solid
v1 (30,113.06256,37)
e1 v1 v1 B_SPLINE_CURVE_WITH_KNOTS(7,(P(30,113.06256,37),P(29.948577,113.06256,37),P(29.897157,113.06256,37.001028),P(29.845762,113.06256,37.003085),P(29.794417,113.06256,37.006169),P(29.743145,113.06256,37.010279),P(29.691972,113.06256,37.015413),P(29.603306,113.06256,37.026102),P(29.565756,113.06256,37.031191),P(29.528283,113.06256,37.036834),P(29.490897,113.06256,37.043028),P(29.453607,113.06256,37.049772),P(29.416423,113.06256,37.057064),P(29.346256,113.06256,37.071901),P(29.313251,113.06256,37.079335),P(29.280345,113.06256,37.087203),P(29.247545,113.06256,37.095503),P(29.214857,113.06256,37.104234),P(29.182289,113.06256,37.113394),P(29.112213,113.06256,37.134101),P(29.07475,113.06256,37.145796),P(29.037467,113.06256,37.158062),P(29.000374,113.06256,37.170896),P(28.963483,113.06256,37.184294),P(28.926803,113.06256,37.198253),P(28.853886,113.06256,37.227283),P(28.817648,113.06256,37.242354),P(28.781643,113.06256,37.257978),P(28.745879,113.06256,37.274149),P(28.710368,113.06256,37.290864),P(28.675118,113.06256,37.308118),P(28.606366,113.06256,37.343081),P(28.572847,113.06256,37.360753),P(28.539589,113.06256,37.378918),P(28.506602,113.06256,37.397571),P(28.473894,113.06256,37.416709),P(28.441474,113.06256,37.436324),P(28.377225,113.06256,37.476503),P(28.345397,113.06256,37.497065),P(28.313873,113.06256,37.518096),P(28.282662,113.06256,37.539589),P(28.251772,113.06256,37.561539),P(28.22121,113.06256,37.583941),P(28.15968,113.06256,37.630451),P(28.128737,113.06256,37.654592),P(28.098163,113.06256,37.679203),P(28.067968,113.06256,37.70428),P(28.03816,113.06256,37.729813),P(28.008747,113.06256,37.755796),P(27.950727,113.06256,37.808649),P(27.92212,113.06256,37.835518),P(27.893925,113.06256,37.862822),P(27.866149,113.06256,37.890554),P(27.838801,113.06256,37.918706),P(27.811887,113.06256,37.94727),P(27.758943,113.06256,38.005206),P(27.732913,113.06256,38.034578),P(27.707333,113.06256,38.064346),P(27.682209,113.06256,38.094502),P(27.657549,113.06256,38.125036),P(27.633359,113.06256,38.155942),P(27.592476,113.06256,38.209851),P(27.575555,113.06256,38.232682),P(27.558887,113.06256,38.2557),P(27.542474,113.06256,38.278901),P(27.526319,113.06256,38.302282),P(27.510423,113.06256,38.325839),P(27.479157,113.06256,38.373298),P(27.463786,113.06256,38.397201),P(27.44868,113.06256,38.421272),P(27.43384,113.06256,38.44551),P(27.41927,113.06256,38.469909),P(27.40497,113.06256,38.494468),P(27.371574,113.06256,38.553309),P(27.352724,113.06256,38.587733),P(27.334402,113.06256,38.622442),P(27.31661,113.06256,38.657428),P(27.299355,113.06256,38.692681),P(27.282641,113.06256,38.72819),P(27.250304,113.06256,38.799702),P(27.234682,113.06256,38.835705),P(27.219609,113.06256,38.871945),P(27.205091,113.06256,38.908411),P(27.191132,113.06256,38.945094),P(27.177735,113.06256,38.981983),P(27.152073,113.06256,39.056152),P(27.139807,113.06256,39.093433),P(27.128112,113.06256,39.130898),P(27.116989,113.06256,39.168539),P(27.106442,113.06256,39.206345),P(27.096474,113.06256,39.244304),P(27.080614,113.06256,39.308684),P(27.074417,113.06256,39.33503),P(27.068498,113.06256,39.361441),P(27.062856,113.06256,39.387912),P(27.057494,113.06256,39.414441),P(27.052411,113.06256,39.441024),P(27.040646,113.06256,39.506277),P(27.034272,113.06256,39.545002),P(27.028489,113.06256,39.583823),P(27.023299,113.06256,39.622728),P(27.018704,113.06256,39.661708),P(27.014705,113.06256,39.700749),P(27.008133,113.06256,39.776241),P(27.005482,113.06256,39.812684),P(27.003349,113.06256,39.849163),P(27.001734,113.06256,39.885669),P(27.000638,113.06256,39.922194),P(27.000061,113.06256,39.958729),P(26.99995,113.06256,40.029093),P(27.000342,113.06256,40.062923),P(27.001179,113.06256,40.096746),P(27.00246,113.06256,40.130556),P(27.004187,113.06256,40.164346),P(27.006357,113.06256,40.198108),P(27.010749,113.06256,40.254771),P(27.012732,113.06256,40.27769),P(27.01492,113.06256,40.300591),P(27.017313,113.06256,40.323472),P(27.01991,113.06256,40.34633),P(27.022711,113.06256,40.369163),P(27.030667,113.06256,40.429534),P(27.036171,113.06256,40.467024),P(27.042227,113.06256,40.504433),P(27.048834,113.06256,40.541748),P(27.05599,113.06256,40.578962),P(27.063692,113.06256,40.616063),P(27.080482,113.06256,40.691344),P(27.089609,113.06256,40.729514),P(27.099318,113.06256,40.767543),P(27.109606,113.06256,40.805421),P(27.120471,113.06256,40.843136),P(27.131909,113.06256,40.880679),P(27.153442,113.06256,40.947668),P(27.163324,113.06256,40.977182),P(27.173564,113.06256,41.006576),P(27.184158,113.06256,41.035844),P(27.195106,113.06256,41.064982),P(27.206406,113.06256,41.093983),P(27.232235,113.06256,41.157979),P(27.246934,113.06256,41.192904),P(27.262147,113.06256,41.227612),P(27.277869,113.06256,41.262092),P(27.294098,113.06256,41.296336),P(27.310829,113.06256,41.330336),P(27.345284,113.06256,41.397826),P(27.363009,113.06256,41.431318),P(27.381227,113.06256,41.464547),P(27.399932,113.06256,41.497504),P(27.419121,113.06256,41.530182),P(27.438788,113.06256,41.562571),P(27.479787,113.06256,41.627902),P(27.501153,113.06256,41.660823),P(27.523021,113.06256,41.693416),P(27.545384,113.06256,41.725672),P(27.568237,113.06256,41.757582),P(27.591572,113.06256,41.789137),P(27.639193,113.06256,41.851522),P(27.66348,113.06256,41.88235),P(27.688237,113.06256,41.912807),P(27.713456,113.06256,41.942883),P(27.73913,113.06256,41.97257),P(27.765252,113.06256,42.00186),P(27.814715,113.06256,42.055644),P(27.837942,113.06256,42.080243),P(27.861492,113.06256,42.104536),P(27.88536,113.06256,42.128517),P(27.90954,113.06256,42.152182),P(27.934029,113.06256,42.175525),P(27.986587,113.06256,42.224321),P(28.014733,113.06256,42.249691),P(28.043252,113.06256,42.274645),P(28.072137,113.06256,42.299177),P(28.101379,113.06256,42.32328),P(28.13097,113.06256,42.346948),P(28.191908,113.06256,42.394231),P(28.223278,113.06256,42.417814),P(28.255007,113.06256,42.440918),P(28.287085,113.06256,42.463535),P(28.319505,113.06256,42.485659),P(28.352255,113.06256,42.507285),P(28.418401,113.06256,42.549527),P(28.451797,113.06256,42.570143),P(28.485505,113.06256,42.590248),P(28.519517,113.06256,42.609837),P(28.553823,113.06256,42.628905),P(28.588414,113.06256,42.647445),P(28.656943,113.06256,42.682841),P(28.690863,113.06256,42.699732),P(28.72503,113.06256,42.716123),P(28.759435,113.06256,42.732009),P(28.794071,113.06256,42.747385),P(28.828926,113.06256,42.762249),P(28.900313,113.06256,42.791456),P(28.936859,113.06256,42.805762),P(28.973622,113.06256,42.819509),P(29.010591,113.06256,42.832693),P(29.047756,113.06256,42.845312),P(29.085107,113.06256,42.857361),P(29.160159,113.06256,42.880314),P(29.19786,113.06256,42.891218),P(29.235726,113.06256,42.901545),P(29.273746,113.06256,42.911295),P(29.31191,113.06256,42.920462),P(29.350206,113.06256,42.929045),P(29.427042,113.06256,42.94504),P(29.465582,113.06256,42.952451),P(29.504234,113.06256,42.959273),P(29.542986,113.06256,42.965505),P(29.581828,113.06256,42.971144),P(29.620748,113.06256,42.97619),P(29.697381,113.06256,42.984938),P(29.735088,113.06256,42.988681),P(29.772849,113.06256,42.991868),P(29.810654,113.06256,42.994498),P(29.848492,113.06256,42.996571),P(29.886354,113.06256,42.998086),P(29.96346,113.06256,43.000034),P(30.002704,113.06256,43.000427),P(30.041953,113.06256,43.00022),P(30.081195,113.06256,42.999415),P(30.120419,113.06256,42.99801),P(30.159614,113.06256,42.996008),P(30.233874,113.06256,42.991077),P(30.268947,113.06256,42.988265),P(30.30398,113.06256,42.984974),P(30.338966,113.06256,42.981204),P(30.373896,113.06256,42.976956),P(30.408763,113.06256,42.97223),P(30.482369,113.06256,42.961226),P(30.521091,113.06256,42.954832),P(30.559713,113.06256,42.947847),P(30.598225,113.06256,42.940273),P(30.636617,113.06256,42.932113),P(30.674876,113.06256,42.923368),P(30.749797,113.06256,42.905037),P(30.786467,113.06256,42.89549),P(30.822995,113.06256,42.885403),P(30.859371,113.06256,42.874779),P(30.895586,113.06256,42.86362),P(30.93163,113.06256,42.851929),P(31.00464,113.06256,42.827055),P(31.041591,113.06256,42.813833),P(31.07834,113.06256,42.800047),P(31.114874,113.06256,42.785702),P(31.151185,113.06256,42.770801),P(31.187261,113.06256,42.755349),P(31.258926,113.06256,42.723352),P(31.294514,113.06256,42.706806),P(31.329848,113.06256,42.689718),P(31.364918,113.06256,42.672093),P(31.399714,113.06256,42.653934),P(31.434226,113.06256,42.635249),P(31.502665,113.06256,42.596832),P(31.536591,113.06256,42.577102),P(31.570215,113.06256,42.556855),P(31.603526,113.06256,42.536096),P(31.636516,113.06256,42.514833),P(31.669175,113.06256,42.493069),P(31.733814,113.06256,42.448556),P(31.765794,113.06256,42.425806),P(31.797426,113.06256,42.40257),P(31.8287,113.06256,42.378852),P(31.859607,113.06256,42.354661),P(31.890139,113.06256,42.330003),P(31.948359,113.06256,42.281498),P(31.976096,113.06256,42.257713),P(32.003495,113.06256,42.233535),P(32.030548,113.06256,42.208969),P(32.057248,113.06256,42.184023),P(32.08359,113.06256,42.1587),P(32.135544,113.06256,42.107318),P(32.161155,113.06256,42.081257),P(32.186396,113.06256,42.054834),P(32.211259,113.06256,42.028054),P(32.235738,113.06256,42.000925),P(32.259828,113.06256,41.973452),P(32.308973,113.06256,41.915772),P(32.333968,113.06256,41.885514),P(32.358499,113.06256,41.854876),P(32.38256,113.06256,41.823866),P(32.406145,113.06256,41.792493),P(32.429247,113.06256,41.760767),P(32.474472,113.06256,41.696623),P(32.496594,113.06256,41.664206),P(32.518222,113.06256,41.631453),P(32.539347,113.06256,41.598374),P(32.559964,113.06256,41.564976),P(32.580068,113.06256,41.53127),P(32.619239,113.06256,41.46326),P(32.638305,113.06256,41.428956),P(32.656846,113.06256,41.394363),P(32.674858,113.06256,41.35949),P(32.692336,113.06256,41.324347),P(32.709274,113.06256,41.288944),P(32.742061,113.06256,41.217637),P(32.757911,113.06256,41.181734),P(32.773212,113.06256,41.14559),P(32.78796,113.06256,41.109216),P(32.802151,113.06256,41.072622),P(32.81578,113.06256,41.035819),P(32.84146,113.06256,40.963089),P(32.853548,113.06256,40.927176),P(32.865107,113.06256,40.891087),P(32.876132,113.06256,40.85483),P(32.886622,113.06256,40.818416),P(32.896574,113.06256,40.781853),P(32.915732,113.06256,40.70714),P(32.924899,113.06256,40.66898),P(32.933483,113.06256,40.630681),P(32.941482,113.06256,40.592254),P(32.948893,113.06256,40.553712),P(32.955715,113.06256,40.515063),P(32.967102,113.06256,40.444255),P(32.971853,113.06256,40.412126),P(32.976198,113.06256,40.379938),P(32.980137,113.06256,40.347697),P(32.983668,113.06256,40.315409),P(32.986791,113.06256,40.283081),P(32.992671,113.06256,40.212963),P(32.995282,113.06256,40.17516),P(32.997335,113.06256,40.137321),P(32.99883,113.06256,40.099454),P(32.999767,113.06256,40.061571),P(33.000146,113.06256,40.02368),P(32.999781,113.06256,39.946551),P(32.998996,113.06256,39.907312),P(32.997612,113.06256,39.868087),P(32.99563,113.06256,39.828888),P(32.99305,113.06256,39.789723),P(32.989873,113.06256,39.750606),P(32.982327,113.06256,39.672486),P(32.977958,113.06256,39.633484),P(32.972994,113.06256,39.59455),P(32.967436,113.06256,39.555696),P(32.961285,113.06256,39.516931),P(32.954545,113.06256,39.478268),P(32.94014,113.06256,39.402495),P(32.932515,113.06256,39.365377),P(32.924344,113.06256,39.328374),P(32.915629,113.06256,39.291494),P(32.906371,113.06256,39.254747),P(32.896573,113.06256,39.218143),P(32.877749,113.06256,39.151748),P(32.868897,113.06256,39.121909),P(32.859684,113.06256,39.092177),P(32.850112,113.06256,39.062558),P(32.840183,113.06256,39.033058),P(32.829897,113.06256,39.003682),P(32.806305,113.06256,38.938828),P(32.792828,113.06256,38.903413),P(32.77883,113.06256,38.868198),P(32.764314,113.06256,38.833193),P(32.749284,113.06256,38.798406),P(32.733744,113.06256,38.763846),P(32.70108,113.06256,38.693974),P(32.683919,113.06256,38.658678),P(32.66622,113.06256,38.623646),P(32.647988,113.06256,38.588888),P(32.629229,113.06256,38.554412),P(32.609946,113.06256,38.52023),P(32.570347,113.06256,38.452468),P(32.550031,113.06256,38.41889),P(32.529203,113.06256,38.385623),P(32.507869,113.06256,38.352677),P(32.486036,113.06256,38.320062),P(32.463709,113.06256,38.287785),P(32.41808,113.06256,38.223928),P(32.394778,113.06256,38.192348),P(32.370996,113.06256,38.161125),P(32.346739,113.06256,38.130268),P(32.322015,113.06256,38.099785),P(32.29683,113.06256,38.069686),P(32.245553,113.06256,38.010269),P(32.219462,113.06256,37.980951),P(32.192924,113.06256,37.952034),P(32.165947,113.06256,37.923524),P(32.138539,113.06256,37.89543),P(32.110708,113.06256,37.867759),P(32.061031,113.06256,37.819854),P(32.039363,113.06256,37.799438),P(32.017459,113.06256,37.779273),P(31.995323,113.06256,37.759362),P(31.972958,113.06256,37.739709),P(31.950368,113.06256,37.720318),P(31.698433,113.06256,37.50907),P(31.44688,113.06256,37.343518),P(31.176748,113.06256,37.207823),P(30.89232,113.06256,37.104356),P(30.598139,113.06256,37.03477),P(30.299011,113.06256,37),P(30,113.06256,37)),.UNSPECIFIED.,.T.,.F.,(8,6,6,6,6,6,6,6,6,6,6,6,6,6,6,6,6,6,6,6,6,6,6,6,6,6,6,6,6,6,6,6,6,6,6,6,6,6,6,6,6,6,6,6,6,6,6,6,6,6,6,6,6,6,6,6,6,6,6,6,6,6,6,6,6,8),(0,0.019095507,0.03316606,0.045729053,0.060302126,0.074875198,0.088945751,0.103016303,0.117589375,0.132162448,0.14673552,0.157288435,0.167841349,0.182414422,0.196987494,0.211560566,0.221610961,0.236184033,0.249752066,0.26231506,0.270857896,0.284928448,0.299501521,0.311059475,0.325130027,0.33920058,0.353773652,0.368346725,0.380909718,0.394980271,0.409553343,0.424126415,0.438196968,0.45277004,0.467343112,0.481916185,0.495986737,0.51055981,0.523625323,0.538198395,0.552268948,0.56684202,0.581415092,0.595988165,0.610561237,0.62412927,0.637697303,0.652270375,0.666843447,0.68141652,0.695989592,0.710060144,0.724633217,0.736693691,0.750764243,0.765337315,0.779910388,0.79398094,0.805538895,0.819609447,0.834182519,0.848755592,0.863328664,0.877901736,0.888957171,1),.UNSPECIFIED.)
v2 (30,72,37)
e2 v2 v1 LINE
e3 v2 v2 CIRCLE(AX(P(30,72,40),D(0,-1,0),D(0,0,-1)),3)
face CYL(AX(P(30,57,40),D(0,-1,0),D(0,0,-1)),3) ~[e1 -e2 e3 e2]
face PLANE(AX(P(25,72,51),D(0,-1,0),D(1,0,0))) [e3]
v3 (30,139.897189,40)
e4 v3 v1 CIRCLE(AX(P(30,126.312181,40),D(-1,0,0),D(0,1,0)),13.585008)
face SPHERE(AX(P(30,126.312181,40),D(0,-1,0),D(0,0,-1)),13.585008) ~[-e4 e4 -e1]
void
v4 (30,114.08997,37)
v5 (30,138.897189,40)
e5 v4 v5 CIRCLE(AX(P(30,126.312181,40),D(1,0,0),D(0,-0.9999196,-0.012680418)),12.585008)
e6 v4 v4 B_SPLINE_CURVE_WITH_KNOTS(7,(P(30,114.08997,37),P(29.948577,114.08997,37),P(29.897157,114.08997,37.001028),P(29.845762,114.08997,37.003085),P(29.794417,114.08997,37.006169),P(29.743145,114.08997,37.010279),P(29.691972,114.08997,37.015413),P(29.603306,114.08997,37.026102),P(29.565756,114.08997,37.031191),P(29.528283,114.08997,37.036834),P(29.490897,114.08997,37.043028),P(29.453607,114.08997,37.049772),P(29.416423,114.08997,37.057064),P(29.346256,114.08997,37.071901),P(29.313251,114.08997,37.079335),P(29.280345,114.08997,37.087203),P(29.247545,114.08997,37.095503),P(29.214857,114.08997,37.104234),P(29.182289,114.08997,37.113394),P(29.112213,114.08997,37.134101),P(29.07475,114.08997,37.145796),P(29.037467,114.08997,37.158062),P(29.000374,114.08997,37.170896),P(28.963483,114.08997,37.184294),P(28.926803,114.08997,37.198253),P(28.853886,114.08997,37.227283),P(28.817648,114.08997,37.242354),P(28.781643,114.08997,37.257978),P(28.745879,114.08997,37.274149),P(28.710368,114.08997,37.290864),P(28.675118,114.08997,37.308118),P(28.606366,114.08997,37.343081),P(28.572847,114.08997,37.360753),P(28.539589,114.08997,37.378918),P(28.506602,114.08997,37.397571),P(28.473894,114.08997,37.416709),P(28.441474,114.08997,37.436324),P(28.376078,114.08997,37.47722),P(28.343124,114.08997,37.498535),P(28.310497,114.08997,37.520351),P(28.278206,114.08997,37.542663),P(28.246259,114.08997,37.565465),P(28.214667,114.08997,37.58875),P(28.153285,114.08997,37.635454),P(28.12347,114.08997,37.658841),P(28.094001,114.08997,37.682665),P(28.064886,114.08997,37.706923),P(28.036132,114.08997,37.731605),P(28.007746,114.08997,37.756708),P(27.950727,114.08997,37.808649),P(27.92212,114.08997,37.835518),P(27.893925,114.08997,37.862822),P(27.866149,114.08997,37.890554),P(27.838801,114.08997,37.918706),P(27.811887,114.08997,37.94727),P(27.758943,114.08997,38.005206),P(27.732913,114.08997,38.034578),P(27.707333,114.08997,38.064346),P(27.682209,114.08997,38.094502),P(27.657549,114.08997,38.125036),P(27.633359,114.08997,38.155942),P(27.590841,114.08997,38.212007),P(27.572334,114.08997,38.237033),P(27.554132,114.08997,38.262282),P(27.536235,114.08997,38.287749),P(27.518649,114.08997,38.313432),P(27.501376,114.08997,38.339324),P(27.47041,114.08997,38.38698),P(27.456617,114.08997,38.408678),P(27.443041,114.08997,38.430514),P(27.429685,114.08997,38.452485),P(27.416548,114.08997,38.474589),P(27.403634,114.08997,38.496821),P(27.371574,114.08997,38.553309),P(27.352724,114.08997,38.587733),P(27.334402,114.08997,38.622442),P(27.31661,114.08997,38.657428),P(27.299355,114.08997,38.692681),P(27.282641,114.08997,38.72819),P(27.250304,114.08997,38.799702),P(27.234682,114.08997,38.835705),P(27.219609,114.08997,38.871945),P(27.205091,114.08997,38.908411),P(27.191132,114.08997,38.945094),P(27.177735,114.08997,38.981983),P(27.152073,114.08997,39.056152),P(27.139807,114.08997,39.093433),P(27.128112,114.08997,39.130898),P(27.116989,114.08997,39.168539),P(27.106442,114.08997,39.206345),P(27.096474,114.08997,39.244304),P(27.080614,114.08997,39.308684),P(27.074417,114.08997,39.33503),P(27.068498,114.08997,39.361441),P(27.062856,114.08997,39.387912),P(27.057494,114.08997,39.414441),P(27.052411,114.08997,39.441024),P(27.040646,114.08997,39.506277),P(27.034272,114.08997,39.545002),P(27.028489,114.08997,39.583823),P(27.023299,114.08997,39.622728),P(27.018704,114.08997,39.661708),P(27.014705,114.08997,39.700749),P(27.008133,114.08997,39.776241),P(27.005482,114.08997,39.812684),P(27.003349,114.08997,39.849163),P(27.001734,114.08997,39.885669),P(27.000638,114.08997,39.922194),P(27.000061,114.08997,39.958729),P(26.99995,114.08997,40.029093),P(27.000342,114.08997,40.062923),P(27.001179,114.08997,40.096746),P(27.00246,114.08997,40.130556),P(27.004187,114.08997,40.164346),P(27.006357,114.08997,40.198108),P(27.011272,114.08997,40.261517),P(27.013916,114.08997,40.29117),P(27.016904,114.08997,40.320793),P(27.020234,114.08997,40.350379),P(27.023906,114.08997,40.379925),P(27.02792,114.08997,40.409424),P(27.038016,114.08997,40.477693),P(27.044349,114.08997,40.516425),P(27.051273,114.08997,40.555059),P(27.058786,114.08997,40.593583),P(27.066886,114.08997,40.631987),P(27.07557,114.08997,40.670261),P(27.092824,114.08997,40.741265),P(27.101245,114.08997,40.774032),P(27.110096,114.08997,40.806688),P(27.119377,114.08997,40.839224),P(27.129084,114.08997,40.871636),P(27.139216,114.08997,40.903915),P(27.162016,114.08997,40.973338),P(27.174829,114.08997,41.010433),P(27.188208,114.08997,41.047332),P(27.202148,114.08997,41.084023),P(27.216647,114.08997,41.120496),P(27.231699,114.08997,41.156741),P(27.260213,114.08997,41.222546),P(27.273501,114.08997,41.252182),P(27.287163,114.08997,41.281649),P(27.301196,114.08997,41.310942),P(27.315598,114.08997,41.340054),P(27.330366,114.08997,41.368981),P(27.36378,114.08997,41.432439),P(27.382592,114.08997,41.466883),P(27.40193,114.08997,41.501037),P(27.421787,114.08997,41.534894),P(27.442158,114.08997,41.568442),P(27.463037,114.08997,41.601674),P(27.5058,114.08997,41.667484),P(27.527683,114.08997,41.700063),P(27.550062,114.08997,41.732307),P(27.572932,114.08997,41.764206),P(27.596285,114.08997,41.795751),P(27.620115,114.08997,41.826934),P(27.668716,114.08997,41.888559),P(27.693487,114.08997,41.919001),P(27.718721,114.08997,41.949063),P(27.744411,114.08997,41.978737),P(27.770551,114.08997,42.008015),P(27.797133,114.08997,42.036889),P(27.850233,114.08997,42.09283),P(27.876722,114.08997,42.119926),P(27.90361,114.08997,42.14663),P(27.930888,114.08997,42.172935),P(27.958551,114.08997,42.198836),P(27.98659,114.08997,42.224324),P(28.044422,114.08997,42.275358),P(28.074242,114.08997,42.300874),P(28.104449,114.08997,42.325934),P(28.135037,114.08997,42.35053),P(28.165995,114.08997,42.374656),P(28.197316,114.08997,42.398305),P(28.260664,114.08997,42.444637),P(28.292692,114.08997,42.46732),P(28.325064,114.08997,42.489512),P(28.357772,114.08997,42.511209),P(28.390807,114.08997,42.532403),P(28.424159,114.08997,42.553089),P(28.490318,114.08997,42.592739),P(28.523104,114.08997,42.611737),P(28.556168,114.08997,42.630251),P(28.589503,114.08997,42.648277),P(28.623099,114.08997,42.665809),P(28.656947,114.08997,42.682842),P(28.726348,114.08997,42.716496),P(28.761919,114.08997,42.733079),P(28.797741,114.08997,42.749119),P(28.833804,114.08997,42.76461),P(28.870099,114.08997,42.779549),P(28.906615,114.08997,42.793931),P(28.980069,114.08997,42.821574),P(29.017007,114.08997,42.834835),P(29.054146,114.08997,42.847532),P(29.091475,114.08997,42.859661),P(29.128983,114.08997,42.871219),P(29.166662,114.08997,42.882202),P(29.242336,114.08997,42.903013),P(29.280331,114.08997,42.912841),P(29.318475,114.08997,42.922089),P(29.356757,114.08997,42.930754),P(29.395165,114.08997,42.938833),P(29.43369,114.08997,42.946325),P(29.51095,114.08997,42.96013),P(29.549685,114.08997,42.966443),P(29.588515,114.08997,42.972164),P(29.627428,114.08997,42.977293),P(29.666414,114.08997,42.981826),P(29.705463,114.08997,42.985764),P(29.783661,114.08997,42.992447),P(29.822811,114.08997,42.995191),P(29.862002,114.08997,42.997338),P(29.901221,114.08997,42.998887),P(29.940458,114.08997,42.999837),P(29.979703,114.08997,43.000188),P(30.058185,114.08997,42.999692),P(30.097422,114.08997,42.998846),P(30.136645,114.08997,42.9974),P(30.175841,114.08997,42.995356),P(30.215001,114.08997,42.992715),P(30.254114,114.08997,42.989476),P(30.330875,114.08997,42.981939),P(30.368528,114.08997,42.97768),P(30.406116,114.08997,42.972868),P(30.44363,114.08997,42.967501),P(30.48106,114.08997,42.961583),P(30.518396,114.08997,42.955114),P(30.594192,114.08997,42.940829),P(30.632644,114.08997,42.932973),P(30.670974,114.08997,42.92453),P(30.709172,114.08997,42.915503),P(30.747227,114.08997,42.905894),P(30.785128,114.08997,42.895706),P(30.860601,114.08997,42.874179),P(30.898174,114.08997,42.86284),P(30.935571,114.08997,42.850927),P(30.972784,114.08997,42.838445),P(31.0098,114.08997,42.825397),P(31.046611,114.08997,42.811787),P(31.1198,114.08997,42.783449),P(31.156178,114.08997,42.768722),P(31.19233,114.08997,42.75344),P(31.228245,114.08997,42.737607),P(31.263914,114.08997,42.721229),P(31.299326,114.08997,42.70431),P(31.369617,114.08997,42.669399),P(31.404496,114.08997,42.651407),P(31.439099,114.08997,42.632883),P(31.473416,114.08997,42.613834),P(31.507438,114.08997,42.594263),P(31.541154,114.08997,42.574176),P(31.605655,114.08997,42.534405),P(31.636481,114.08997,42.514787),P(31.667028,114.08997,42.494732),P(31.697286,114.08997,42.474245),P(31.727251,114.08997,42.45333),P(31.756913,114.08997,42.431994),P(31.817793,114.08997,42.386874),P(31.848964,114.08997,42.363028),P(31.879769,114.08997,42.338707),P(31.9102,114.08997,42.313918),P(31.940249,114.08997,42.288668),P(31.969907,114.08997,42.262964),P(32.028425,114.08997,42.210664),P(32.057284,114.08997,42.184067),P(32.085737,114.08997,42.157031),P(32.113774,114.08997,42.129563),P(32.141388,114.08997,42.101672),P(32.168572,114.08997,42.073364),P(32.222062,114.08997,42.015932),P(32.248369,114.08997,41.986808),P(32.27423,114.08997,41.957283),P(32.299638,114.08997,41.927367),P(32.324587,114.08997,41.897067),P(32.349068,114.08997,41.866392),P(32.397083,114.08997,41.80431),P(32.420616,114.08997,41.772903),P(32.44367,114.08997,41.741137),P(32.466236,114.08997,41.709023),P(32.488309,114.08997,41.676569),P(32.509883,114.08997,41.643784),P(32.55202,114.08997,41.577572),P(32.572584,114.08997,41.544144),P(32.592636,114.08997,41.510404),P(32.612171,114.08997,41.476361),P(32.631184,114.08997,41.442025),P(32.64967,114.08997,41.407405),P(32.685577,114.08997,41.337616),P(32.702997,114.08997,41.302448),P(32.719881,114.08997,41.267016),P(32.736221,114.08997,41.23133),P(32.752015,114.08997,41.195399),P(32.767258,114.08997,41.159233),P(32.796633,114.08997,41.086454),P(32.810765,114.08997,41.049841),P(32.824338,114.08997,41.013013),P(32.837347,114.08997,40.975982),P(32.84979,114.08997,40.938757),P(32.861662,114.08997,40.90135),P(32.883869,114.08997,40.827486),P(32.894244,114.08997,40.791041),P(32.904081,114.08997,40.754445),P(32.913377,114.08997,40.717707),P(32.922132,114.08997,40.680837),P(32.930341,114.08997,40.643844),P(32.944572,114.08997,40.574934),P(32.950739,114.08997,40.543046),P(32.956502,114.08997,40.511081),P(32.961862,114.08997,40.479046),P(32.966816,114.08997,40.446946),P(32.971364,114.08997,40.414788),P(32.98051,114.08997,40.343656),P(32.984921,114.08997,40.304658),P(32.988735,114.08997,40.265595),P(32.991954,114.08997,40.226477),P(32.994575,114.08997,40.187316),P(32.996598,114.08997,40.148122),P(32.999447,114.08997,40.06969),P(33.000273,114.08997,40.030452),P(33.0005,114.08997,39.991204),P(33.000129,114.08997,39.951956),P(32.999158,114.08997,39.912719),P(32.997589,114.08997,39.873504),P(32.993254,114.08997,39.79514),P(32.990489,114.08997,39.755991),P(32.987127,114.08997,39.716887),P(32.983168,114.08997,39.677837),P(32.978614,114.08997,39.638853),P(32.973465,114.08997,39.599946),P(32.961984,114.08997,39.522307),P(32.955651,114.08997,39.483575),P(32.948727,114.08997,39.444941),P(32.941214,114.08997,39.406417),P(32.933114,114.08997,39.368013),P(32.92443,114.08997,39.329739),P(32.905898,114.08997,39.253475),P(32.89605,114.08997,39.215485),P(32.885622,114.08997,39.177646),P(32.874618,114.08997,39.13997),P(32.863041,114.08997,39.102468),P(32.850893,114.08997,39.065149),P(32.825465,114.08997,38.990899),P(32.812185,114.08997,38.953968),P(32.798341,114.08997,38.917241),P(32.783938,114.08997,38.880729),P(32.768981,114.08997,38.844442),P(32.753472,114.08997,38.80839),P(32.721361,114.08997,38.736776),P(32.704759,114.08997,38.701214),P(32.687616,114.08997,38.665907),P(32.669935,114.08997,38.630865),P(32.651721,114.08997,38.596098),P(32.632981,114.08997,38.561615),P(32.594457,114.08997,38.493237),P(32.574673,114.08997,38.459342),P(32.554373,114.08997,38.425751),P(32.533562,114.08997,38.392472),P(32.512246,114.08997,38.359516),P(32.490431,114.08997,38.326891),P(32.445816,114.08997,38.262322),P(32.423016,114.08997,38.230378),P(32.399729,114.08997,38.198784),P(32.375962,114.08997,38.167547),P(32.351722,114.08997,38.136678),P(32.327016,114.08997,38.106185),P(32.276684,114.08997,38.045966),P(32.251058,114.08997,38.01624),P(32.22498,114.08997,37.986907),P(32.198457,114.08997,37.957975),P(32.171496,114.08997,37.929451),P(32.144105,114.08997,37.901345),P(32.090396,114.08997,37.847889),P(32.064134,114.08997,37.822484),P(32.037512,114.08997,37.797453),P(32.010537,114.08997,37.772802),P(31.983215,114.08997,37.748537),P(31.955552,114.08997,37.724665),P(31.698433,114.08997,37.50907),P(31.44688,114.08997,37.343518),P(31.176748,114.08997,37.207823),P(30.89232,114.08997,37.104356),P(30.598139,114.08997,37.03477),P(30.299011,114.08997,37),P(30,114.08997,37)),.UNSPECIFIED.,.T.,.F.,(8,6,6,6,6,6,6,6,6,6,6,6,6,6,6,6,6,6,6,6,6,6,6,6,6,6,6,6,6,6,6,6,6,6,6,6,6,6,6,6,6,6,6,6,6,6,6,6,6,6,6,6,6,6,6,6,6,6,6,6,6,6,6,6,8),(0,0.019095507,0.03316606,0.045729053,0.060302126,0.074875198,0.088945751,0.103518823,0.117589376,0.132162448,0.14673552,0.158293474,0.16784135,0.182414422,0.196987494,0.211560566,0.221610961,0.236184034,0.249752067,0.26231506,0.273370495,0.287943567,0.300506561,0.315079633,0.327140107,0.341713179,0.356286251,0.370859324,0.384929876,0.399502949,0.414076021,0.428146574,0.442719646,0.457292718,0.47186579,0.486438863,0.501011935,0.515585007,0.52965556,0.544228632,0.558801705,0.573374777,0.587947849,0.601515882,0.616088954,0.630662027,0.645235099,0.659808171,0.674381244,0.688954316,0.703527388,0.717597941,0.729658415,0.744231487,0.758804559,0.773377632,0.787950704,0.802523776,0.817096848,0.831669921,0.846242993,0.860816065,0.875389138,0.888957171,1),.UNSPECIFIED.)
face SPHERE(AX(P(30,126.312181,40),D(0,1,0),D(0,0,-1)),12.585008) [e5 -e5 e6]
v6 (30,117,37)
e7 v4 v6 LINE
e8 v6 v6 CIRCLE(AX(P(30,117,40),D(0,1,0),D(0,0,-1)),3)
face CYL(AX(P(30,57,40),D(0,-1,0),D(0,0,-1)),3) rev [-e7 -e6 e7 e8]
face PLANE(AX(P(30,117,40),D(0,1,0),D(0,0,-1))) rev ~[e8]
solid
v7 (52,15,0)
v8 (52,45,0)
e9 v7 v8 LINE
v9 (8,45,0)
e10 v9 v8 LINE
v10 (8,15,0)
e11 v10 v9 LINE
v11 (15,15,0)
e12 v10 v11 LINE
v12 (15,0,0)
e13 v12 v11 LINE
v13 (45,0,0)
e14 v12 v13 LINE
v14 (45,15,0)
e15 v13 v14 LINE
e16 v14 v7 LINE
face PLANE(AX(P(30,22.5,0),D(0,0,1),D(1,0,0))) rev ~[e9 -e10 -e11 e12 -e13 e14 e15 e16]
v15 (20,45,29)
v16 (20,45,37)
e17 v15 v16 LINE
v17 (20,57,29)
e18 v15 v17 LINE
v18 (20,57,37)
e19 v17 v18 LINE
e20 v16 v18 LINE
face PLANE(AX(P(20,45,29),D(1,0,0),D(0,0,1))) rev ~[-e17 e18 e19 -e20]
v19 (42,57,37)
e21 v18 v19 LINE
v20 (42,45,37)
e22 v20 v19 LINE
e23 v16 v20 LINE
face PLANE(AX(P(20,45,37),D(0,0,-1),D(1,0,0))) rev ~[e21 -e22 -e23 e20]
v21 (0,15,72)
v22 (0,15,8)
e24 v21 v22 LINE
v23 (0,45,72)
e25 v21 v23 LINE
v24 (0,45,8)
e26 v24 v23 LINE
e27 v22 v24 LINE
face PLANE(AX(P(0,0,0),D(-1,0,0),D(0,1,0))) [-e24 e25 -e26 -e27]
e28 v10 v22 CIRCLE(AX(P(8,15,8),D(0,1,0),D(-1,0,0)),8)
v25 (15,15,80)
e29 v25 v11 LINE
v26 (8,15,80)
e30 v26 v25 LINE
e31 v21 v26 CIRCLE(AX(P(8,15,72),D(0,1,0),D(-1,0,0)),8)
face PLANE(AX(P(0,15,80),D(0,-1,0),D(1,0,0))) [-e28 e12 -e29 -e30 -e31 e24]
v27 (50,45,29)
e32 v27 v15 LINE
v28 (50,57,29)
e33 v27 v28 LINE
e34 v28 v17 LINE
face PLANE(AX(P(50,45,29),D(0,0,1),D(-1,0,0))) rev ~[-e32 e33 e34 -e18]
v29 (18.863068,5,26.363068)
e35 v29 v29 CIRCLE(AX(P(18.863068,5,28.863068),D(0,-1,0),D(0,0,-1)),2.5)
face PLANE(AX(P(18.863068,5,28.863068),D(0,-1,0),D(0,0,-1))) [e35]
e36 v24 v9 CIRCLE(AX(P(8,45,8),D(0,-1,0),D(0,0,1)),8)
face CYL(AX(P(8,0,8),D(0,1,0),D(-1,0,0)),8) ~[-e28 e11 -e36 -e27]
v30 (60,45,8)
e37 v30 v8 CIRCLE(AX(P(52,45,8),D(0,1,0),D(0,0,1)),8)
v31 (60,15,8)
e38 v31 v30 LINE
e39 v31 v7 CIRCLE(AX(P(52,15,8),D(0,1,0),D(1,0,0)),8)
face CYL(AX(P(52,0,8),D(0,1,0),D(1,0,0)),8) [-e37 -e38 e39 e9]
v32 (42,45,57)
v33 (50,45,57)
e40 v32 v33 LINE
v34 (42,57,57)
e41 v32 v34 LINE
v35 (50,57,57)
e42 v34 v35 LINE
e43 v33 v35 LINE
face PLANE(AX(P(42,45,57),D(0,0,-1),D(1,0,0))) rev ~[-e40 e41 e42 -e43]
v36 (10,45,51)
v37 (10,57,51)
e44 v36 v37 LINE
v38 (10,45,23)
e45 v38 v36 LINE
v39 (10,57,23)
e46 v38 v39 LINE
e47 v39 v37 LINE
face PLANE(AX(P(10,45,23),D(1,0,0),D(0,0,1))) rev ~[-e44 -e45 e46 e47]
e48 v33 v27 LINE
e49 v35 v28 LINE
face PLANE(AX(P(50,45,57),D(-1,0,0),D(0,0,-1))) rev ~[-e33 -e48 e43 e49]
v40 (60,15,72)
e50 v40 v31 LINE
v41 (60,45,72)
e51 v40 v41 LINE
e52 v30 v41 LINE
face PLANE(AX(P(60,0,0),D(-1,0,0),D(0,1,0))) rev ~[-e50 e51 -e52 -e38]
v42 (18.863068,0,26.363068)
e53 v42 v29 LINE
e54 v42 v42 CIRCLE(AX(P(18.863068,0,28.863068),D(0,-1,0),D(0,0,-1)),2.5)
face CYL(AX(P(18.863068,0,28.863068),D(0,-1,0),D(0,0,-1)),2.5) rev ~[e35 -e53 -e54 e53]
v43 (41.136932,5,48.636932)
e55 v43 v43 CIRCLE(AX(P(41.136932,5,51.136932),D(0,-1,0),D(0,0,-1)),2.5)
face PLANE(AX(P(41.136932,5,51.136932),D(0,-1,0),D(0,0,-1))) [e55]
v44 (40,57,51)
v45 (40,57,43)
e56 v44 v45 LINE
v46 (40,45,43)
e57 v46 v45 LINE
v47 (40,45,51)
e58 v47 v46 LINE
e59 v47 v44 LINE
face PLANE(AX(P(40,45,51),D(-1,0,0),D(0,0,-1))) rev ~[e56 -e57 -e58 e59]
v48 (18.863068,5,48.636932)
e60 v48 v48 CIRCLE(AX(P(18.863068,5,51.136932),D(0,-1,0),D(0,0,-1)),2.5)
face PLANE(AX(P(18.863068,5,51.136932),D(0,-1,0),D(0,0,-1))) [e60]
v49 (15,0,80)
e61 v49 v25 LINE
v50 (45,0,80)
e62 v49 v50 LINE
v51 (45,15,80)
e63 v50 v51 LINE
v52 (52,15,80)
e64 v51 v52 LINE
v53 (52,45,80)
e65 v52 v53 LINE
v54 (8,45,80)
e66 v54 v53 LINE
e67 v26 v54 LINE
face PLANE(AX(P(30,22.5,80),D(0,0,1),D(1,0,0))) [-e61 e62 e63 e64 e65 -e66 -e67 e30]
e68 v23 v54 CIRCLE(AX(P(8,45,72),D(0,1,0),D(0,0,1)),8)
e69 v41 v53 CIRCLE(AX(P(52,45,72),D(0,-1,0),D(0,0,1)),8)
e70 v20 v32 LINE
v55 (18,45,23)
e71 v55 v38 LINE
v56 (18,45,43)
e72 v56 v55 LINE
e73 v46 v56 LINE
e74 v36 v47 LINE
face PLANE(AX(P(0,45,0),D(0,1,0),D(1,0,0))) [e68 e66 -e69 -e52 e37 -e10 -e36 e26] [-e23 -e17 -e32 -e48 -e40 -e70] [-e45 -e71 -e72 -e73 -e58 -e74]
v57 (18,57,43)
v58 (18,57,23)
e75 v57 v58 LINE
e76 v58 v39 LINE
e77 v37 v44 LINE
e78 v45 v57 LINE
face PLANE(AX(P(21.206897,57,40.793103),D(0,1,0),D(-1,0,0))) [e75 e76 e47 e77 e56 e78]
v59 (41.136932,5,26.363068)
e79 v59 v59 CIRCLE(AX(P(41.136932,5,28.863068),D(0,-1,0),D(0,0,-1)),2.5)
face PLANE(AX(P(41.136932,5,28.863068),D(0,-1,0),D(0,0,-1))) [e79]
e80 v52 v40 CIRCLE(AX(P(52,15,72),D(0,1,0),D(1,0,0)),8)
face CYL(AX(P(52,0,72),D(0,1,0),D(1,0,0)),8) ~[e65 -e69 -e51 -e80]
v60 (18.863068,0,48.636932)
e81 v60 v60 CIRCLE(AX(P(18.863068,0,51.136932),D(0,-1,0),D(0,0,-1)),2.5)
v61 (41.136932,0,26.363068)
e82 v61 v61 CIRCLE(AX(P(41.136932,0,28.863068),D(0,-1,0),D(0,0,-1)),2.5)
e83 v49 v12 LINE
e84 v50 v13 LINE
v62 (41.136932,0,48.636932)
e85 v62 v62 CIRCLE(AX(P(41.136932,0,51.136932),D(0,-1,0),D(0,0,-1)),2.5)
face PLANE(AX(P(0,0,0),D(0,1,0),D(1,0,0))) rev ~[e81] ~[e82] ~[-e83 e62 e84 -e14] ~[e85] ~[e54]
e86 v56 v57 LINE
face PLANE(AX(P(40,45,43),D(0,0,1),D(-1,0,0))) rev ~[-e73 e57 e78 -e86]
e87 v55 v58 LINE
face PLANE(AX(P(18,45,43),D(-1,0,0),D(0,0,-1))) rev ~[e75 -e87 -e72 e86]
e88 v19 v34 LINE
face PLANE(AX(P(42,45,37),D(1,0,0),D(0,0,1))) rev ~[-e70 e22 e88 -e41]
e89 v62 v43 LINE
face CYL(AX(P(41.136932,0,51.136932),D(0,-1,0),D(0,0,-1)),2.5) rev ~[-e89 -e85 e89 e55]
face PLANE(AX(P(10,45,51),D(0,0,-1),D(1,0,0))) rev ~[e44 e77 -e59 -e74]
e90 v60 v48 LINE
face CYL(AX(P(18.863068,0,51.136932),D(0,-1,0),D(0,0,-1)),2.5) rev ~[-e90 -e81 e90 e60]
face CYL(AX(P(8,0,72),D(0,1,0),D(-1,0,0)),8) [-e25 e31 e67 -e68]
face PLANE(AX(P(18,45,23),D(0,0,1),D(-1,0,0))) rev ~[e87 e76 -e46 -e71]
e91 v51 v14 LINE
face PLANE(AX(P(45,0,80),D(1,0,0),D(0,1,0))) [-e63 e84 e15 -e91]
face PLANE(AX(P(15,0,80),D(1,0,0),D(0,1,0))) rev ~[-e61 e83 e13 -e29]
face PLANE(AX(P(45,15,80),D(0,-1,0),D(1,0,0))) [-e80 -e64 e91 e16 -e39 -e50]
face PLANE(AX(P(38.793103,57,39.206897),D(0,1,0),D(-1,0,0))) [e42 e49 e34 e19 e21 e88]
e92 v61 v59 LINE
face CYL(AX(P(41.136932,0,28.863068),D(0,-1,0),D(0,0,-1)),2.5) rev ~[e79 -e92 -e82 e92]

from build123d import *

# Parameters (mm, degrees)
SKETCH_1_W          = 60
SKETCH_1_H          = 45
EXTRUDE_1_DEPTH     = 80
FILLET_1_R          = 8
SKETCH_2_W          = 15
SKETCH_2_H          = 15
CUT_EXTRUDE_1_DEPTH = 110.658560997
SKETCH_3_R          = 2.5
CUT_EXTRUDE_2_DEPTH = 5
EXTRUDE_2_DEPTH     = 12
SKETCH_5_R          = 3
EXTRUDE_4_DEPTH     = 60
SKETCH_7_W          = 9.920530886
SKETCH_7_H          = 15
CUT_EXTRUDE_3_DEPTH = 60


with BuildPart() as part:
    # ｽｹｯﾁ1 → 押し出し1 (new body)
    with BuildSketch(Plane.XY):
        with Locations((30, 22.5)):
            Rectangle(SKETCH_1_W, SKETCH_1_H)
    extrude(amount=EXTRUDE_1_DEPTH)

    # ﾌｨﾚｯﾄ1
    fillet_1_edges = [part.edges().sort_by_distance(p)[0] for p in [
        (60, 22.5, 80),
        (0, 22.5, 80),
        (60, 22.5, 0),
        (0, 22.5, 0),
    ]]
    fillet(fillet_1_edges, radius=FILLET_1_R)

    # ｽｹｯﾁ2 → ｶｯﾄ - 押し出し1 (cut, through all)
    with BuildSketch(Plane.XY.offset(80)):
        with Locations((52.5, 7.5)):
            Rectangle(SKETCH_2_W, SKETCH_2_H)
        with Locations((7.5, 7.5)):
            Rectangle(SKETCH_2_W, SKETCH_2_H)
    extrude(amount=-CUT_EXTRUDE_1_DEPTH, mode=Mode.SUBTRACT)

    # ｽｹｯﾁ3 → ｶｯﾄ - 押し出し2 (cut)
    with BuildSketch(Plane.XZ):
        with Locations(Location((41.136931804, 51.136931804, 0), (0, 0, 270))):
            Circle(SKETCH_3_R)
        with Locations(Location((41.136931804, 28.863068196, 0), (0, 0, 270))):
            Circle(SKETCH_3_R)
        with Locations(Location((18.863068196, 51.136931804, 0), (0, 0, 270))):
            Circle(SKETCH_3_R)
        with Locations(Location((18.863068196, 28.863068196, 0), (0, 0, 270))):
            Circle(SKETCH_3_R)
    extrude(amount=-CUT_EXTRUDE_2_DEPTH, mode=Mode.SUBTRACT)

    # ｽｹｯﾁ4 → 押し出し2 (add)
    with BuildSketch(Plane(origin=(0, 45, 0), x_dir=(-1, 0, 0), z_dir=(0, 1, 0))):
        Polygon((-50, 29), (-20, 29), (-20, 37), (-42, 37), (-42, 57), (-50, 57), align=None)
        Polygon((-10, 23), (-10, 51), (-40, 51), (-40, 43), (-18, 43), (-18, 23), align=None)
    extrude(amount=EXTRUDE_2_DEPTH)


with BuildPart() as body_2:
    # ｽｹｯﾁ5 → 押し出し4 (new body)
    with BuildSketch(Plane(origin=(0, 57, 0), x_dir=(-1, 0, 0), z_dir=(0, 1, 0))):
        with Locations(Location((-30, 40, 0), (0, 0, 270))):
            Circle(SKETCH_5_R)
    extrude(amount=EXTRUDE_4_DEPTH)

    # ｽｹｯﾁ7 → ｶｯﾄ - 押し出し3 (cut)
    with BuildSketch(Plane.XY.offset(51)):
        with Locations((29.960265443, 64.5)):
            Rectangle(SKETCH_7_W, SKETCH_7_H)
    extrude(amount=-CUT_EXTRUDE_3_DEPTH, mode=Mode.SUBTRACT)

    # ｽｹｯﾁ9 → 回転-薄板2 (revolve)
    with BuildSketch(Plane.XY.offset(40), mode=Mode.PRIVATE) as revolve_2_sk:
        with BuildLine():
            ThreePointArc((30.159583172, 113.728184189), (42.584755395, 126.391973903), (30, 138.897189069))
            Line((30, 138.897189069), (30, 139.897189069))
            ThreePointArc((30, 139.897189069), (43.584735295, 126.39831424), (30.17226359, 112.728264589))
            Line((30.17226359, 112.728264589), (30.159583172, 113.728184189))
        make_face()
    revolve(revolve_2_sk.sketch.rotate(Axis((30, 117, 40), (0, 1, 0)), 90), axis=Axis((30, 117, 40), (0, 1, 0)))


solid = Compound([part.part, body_2.part])
